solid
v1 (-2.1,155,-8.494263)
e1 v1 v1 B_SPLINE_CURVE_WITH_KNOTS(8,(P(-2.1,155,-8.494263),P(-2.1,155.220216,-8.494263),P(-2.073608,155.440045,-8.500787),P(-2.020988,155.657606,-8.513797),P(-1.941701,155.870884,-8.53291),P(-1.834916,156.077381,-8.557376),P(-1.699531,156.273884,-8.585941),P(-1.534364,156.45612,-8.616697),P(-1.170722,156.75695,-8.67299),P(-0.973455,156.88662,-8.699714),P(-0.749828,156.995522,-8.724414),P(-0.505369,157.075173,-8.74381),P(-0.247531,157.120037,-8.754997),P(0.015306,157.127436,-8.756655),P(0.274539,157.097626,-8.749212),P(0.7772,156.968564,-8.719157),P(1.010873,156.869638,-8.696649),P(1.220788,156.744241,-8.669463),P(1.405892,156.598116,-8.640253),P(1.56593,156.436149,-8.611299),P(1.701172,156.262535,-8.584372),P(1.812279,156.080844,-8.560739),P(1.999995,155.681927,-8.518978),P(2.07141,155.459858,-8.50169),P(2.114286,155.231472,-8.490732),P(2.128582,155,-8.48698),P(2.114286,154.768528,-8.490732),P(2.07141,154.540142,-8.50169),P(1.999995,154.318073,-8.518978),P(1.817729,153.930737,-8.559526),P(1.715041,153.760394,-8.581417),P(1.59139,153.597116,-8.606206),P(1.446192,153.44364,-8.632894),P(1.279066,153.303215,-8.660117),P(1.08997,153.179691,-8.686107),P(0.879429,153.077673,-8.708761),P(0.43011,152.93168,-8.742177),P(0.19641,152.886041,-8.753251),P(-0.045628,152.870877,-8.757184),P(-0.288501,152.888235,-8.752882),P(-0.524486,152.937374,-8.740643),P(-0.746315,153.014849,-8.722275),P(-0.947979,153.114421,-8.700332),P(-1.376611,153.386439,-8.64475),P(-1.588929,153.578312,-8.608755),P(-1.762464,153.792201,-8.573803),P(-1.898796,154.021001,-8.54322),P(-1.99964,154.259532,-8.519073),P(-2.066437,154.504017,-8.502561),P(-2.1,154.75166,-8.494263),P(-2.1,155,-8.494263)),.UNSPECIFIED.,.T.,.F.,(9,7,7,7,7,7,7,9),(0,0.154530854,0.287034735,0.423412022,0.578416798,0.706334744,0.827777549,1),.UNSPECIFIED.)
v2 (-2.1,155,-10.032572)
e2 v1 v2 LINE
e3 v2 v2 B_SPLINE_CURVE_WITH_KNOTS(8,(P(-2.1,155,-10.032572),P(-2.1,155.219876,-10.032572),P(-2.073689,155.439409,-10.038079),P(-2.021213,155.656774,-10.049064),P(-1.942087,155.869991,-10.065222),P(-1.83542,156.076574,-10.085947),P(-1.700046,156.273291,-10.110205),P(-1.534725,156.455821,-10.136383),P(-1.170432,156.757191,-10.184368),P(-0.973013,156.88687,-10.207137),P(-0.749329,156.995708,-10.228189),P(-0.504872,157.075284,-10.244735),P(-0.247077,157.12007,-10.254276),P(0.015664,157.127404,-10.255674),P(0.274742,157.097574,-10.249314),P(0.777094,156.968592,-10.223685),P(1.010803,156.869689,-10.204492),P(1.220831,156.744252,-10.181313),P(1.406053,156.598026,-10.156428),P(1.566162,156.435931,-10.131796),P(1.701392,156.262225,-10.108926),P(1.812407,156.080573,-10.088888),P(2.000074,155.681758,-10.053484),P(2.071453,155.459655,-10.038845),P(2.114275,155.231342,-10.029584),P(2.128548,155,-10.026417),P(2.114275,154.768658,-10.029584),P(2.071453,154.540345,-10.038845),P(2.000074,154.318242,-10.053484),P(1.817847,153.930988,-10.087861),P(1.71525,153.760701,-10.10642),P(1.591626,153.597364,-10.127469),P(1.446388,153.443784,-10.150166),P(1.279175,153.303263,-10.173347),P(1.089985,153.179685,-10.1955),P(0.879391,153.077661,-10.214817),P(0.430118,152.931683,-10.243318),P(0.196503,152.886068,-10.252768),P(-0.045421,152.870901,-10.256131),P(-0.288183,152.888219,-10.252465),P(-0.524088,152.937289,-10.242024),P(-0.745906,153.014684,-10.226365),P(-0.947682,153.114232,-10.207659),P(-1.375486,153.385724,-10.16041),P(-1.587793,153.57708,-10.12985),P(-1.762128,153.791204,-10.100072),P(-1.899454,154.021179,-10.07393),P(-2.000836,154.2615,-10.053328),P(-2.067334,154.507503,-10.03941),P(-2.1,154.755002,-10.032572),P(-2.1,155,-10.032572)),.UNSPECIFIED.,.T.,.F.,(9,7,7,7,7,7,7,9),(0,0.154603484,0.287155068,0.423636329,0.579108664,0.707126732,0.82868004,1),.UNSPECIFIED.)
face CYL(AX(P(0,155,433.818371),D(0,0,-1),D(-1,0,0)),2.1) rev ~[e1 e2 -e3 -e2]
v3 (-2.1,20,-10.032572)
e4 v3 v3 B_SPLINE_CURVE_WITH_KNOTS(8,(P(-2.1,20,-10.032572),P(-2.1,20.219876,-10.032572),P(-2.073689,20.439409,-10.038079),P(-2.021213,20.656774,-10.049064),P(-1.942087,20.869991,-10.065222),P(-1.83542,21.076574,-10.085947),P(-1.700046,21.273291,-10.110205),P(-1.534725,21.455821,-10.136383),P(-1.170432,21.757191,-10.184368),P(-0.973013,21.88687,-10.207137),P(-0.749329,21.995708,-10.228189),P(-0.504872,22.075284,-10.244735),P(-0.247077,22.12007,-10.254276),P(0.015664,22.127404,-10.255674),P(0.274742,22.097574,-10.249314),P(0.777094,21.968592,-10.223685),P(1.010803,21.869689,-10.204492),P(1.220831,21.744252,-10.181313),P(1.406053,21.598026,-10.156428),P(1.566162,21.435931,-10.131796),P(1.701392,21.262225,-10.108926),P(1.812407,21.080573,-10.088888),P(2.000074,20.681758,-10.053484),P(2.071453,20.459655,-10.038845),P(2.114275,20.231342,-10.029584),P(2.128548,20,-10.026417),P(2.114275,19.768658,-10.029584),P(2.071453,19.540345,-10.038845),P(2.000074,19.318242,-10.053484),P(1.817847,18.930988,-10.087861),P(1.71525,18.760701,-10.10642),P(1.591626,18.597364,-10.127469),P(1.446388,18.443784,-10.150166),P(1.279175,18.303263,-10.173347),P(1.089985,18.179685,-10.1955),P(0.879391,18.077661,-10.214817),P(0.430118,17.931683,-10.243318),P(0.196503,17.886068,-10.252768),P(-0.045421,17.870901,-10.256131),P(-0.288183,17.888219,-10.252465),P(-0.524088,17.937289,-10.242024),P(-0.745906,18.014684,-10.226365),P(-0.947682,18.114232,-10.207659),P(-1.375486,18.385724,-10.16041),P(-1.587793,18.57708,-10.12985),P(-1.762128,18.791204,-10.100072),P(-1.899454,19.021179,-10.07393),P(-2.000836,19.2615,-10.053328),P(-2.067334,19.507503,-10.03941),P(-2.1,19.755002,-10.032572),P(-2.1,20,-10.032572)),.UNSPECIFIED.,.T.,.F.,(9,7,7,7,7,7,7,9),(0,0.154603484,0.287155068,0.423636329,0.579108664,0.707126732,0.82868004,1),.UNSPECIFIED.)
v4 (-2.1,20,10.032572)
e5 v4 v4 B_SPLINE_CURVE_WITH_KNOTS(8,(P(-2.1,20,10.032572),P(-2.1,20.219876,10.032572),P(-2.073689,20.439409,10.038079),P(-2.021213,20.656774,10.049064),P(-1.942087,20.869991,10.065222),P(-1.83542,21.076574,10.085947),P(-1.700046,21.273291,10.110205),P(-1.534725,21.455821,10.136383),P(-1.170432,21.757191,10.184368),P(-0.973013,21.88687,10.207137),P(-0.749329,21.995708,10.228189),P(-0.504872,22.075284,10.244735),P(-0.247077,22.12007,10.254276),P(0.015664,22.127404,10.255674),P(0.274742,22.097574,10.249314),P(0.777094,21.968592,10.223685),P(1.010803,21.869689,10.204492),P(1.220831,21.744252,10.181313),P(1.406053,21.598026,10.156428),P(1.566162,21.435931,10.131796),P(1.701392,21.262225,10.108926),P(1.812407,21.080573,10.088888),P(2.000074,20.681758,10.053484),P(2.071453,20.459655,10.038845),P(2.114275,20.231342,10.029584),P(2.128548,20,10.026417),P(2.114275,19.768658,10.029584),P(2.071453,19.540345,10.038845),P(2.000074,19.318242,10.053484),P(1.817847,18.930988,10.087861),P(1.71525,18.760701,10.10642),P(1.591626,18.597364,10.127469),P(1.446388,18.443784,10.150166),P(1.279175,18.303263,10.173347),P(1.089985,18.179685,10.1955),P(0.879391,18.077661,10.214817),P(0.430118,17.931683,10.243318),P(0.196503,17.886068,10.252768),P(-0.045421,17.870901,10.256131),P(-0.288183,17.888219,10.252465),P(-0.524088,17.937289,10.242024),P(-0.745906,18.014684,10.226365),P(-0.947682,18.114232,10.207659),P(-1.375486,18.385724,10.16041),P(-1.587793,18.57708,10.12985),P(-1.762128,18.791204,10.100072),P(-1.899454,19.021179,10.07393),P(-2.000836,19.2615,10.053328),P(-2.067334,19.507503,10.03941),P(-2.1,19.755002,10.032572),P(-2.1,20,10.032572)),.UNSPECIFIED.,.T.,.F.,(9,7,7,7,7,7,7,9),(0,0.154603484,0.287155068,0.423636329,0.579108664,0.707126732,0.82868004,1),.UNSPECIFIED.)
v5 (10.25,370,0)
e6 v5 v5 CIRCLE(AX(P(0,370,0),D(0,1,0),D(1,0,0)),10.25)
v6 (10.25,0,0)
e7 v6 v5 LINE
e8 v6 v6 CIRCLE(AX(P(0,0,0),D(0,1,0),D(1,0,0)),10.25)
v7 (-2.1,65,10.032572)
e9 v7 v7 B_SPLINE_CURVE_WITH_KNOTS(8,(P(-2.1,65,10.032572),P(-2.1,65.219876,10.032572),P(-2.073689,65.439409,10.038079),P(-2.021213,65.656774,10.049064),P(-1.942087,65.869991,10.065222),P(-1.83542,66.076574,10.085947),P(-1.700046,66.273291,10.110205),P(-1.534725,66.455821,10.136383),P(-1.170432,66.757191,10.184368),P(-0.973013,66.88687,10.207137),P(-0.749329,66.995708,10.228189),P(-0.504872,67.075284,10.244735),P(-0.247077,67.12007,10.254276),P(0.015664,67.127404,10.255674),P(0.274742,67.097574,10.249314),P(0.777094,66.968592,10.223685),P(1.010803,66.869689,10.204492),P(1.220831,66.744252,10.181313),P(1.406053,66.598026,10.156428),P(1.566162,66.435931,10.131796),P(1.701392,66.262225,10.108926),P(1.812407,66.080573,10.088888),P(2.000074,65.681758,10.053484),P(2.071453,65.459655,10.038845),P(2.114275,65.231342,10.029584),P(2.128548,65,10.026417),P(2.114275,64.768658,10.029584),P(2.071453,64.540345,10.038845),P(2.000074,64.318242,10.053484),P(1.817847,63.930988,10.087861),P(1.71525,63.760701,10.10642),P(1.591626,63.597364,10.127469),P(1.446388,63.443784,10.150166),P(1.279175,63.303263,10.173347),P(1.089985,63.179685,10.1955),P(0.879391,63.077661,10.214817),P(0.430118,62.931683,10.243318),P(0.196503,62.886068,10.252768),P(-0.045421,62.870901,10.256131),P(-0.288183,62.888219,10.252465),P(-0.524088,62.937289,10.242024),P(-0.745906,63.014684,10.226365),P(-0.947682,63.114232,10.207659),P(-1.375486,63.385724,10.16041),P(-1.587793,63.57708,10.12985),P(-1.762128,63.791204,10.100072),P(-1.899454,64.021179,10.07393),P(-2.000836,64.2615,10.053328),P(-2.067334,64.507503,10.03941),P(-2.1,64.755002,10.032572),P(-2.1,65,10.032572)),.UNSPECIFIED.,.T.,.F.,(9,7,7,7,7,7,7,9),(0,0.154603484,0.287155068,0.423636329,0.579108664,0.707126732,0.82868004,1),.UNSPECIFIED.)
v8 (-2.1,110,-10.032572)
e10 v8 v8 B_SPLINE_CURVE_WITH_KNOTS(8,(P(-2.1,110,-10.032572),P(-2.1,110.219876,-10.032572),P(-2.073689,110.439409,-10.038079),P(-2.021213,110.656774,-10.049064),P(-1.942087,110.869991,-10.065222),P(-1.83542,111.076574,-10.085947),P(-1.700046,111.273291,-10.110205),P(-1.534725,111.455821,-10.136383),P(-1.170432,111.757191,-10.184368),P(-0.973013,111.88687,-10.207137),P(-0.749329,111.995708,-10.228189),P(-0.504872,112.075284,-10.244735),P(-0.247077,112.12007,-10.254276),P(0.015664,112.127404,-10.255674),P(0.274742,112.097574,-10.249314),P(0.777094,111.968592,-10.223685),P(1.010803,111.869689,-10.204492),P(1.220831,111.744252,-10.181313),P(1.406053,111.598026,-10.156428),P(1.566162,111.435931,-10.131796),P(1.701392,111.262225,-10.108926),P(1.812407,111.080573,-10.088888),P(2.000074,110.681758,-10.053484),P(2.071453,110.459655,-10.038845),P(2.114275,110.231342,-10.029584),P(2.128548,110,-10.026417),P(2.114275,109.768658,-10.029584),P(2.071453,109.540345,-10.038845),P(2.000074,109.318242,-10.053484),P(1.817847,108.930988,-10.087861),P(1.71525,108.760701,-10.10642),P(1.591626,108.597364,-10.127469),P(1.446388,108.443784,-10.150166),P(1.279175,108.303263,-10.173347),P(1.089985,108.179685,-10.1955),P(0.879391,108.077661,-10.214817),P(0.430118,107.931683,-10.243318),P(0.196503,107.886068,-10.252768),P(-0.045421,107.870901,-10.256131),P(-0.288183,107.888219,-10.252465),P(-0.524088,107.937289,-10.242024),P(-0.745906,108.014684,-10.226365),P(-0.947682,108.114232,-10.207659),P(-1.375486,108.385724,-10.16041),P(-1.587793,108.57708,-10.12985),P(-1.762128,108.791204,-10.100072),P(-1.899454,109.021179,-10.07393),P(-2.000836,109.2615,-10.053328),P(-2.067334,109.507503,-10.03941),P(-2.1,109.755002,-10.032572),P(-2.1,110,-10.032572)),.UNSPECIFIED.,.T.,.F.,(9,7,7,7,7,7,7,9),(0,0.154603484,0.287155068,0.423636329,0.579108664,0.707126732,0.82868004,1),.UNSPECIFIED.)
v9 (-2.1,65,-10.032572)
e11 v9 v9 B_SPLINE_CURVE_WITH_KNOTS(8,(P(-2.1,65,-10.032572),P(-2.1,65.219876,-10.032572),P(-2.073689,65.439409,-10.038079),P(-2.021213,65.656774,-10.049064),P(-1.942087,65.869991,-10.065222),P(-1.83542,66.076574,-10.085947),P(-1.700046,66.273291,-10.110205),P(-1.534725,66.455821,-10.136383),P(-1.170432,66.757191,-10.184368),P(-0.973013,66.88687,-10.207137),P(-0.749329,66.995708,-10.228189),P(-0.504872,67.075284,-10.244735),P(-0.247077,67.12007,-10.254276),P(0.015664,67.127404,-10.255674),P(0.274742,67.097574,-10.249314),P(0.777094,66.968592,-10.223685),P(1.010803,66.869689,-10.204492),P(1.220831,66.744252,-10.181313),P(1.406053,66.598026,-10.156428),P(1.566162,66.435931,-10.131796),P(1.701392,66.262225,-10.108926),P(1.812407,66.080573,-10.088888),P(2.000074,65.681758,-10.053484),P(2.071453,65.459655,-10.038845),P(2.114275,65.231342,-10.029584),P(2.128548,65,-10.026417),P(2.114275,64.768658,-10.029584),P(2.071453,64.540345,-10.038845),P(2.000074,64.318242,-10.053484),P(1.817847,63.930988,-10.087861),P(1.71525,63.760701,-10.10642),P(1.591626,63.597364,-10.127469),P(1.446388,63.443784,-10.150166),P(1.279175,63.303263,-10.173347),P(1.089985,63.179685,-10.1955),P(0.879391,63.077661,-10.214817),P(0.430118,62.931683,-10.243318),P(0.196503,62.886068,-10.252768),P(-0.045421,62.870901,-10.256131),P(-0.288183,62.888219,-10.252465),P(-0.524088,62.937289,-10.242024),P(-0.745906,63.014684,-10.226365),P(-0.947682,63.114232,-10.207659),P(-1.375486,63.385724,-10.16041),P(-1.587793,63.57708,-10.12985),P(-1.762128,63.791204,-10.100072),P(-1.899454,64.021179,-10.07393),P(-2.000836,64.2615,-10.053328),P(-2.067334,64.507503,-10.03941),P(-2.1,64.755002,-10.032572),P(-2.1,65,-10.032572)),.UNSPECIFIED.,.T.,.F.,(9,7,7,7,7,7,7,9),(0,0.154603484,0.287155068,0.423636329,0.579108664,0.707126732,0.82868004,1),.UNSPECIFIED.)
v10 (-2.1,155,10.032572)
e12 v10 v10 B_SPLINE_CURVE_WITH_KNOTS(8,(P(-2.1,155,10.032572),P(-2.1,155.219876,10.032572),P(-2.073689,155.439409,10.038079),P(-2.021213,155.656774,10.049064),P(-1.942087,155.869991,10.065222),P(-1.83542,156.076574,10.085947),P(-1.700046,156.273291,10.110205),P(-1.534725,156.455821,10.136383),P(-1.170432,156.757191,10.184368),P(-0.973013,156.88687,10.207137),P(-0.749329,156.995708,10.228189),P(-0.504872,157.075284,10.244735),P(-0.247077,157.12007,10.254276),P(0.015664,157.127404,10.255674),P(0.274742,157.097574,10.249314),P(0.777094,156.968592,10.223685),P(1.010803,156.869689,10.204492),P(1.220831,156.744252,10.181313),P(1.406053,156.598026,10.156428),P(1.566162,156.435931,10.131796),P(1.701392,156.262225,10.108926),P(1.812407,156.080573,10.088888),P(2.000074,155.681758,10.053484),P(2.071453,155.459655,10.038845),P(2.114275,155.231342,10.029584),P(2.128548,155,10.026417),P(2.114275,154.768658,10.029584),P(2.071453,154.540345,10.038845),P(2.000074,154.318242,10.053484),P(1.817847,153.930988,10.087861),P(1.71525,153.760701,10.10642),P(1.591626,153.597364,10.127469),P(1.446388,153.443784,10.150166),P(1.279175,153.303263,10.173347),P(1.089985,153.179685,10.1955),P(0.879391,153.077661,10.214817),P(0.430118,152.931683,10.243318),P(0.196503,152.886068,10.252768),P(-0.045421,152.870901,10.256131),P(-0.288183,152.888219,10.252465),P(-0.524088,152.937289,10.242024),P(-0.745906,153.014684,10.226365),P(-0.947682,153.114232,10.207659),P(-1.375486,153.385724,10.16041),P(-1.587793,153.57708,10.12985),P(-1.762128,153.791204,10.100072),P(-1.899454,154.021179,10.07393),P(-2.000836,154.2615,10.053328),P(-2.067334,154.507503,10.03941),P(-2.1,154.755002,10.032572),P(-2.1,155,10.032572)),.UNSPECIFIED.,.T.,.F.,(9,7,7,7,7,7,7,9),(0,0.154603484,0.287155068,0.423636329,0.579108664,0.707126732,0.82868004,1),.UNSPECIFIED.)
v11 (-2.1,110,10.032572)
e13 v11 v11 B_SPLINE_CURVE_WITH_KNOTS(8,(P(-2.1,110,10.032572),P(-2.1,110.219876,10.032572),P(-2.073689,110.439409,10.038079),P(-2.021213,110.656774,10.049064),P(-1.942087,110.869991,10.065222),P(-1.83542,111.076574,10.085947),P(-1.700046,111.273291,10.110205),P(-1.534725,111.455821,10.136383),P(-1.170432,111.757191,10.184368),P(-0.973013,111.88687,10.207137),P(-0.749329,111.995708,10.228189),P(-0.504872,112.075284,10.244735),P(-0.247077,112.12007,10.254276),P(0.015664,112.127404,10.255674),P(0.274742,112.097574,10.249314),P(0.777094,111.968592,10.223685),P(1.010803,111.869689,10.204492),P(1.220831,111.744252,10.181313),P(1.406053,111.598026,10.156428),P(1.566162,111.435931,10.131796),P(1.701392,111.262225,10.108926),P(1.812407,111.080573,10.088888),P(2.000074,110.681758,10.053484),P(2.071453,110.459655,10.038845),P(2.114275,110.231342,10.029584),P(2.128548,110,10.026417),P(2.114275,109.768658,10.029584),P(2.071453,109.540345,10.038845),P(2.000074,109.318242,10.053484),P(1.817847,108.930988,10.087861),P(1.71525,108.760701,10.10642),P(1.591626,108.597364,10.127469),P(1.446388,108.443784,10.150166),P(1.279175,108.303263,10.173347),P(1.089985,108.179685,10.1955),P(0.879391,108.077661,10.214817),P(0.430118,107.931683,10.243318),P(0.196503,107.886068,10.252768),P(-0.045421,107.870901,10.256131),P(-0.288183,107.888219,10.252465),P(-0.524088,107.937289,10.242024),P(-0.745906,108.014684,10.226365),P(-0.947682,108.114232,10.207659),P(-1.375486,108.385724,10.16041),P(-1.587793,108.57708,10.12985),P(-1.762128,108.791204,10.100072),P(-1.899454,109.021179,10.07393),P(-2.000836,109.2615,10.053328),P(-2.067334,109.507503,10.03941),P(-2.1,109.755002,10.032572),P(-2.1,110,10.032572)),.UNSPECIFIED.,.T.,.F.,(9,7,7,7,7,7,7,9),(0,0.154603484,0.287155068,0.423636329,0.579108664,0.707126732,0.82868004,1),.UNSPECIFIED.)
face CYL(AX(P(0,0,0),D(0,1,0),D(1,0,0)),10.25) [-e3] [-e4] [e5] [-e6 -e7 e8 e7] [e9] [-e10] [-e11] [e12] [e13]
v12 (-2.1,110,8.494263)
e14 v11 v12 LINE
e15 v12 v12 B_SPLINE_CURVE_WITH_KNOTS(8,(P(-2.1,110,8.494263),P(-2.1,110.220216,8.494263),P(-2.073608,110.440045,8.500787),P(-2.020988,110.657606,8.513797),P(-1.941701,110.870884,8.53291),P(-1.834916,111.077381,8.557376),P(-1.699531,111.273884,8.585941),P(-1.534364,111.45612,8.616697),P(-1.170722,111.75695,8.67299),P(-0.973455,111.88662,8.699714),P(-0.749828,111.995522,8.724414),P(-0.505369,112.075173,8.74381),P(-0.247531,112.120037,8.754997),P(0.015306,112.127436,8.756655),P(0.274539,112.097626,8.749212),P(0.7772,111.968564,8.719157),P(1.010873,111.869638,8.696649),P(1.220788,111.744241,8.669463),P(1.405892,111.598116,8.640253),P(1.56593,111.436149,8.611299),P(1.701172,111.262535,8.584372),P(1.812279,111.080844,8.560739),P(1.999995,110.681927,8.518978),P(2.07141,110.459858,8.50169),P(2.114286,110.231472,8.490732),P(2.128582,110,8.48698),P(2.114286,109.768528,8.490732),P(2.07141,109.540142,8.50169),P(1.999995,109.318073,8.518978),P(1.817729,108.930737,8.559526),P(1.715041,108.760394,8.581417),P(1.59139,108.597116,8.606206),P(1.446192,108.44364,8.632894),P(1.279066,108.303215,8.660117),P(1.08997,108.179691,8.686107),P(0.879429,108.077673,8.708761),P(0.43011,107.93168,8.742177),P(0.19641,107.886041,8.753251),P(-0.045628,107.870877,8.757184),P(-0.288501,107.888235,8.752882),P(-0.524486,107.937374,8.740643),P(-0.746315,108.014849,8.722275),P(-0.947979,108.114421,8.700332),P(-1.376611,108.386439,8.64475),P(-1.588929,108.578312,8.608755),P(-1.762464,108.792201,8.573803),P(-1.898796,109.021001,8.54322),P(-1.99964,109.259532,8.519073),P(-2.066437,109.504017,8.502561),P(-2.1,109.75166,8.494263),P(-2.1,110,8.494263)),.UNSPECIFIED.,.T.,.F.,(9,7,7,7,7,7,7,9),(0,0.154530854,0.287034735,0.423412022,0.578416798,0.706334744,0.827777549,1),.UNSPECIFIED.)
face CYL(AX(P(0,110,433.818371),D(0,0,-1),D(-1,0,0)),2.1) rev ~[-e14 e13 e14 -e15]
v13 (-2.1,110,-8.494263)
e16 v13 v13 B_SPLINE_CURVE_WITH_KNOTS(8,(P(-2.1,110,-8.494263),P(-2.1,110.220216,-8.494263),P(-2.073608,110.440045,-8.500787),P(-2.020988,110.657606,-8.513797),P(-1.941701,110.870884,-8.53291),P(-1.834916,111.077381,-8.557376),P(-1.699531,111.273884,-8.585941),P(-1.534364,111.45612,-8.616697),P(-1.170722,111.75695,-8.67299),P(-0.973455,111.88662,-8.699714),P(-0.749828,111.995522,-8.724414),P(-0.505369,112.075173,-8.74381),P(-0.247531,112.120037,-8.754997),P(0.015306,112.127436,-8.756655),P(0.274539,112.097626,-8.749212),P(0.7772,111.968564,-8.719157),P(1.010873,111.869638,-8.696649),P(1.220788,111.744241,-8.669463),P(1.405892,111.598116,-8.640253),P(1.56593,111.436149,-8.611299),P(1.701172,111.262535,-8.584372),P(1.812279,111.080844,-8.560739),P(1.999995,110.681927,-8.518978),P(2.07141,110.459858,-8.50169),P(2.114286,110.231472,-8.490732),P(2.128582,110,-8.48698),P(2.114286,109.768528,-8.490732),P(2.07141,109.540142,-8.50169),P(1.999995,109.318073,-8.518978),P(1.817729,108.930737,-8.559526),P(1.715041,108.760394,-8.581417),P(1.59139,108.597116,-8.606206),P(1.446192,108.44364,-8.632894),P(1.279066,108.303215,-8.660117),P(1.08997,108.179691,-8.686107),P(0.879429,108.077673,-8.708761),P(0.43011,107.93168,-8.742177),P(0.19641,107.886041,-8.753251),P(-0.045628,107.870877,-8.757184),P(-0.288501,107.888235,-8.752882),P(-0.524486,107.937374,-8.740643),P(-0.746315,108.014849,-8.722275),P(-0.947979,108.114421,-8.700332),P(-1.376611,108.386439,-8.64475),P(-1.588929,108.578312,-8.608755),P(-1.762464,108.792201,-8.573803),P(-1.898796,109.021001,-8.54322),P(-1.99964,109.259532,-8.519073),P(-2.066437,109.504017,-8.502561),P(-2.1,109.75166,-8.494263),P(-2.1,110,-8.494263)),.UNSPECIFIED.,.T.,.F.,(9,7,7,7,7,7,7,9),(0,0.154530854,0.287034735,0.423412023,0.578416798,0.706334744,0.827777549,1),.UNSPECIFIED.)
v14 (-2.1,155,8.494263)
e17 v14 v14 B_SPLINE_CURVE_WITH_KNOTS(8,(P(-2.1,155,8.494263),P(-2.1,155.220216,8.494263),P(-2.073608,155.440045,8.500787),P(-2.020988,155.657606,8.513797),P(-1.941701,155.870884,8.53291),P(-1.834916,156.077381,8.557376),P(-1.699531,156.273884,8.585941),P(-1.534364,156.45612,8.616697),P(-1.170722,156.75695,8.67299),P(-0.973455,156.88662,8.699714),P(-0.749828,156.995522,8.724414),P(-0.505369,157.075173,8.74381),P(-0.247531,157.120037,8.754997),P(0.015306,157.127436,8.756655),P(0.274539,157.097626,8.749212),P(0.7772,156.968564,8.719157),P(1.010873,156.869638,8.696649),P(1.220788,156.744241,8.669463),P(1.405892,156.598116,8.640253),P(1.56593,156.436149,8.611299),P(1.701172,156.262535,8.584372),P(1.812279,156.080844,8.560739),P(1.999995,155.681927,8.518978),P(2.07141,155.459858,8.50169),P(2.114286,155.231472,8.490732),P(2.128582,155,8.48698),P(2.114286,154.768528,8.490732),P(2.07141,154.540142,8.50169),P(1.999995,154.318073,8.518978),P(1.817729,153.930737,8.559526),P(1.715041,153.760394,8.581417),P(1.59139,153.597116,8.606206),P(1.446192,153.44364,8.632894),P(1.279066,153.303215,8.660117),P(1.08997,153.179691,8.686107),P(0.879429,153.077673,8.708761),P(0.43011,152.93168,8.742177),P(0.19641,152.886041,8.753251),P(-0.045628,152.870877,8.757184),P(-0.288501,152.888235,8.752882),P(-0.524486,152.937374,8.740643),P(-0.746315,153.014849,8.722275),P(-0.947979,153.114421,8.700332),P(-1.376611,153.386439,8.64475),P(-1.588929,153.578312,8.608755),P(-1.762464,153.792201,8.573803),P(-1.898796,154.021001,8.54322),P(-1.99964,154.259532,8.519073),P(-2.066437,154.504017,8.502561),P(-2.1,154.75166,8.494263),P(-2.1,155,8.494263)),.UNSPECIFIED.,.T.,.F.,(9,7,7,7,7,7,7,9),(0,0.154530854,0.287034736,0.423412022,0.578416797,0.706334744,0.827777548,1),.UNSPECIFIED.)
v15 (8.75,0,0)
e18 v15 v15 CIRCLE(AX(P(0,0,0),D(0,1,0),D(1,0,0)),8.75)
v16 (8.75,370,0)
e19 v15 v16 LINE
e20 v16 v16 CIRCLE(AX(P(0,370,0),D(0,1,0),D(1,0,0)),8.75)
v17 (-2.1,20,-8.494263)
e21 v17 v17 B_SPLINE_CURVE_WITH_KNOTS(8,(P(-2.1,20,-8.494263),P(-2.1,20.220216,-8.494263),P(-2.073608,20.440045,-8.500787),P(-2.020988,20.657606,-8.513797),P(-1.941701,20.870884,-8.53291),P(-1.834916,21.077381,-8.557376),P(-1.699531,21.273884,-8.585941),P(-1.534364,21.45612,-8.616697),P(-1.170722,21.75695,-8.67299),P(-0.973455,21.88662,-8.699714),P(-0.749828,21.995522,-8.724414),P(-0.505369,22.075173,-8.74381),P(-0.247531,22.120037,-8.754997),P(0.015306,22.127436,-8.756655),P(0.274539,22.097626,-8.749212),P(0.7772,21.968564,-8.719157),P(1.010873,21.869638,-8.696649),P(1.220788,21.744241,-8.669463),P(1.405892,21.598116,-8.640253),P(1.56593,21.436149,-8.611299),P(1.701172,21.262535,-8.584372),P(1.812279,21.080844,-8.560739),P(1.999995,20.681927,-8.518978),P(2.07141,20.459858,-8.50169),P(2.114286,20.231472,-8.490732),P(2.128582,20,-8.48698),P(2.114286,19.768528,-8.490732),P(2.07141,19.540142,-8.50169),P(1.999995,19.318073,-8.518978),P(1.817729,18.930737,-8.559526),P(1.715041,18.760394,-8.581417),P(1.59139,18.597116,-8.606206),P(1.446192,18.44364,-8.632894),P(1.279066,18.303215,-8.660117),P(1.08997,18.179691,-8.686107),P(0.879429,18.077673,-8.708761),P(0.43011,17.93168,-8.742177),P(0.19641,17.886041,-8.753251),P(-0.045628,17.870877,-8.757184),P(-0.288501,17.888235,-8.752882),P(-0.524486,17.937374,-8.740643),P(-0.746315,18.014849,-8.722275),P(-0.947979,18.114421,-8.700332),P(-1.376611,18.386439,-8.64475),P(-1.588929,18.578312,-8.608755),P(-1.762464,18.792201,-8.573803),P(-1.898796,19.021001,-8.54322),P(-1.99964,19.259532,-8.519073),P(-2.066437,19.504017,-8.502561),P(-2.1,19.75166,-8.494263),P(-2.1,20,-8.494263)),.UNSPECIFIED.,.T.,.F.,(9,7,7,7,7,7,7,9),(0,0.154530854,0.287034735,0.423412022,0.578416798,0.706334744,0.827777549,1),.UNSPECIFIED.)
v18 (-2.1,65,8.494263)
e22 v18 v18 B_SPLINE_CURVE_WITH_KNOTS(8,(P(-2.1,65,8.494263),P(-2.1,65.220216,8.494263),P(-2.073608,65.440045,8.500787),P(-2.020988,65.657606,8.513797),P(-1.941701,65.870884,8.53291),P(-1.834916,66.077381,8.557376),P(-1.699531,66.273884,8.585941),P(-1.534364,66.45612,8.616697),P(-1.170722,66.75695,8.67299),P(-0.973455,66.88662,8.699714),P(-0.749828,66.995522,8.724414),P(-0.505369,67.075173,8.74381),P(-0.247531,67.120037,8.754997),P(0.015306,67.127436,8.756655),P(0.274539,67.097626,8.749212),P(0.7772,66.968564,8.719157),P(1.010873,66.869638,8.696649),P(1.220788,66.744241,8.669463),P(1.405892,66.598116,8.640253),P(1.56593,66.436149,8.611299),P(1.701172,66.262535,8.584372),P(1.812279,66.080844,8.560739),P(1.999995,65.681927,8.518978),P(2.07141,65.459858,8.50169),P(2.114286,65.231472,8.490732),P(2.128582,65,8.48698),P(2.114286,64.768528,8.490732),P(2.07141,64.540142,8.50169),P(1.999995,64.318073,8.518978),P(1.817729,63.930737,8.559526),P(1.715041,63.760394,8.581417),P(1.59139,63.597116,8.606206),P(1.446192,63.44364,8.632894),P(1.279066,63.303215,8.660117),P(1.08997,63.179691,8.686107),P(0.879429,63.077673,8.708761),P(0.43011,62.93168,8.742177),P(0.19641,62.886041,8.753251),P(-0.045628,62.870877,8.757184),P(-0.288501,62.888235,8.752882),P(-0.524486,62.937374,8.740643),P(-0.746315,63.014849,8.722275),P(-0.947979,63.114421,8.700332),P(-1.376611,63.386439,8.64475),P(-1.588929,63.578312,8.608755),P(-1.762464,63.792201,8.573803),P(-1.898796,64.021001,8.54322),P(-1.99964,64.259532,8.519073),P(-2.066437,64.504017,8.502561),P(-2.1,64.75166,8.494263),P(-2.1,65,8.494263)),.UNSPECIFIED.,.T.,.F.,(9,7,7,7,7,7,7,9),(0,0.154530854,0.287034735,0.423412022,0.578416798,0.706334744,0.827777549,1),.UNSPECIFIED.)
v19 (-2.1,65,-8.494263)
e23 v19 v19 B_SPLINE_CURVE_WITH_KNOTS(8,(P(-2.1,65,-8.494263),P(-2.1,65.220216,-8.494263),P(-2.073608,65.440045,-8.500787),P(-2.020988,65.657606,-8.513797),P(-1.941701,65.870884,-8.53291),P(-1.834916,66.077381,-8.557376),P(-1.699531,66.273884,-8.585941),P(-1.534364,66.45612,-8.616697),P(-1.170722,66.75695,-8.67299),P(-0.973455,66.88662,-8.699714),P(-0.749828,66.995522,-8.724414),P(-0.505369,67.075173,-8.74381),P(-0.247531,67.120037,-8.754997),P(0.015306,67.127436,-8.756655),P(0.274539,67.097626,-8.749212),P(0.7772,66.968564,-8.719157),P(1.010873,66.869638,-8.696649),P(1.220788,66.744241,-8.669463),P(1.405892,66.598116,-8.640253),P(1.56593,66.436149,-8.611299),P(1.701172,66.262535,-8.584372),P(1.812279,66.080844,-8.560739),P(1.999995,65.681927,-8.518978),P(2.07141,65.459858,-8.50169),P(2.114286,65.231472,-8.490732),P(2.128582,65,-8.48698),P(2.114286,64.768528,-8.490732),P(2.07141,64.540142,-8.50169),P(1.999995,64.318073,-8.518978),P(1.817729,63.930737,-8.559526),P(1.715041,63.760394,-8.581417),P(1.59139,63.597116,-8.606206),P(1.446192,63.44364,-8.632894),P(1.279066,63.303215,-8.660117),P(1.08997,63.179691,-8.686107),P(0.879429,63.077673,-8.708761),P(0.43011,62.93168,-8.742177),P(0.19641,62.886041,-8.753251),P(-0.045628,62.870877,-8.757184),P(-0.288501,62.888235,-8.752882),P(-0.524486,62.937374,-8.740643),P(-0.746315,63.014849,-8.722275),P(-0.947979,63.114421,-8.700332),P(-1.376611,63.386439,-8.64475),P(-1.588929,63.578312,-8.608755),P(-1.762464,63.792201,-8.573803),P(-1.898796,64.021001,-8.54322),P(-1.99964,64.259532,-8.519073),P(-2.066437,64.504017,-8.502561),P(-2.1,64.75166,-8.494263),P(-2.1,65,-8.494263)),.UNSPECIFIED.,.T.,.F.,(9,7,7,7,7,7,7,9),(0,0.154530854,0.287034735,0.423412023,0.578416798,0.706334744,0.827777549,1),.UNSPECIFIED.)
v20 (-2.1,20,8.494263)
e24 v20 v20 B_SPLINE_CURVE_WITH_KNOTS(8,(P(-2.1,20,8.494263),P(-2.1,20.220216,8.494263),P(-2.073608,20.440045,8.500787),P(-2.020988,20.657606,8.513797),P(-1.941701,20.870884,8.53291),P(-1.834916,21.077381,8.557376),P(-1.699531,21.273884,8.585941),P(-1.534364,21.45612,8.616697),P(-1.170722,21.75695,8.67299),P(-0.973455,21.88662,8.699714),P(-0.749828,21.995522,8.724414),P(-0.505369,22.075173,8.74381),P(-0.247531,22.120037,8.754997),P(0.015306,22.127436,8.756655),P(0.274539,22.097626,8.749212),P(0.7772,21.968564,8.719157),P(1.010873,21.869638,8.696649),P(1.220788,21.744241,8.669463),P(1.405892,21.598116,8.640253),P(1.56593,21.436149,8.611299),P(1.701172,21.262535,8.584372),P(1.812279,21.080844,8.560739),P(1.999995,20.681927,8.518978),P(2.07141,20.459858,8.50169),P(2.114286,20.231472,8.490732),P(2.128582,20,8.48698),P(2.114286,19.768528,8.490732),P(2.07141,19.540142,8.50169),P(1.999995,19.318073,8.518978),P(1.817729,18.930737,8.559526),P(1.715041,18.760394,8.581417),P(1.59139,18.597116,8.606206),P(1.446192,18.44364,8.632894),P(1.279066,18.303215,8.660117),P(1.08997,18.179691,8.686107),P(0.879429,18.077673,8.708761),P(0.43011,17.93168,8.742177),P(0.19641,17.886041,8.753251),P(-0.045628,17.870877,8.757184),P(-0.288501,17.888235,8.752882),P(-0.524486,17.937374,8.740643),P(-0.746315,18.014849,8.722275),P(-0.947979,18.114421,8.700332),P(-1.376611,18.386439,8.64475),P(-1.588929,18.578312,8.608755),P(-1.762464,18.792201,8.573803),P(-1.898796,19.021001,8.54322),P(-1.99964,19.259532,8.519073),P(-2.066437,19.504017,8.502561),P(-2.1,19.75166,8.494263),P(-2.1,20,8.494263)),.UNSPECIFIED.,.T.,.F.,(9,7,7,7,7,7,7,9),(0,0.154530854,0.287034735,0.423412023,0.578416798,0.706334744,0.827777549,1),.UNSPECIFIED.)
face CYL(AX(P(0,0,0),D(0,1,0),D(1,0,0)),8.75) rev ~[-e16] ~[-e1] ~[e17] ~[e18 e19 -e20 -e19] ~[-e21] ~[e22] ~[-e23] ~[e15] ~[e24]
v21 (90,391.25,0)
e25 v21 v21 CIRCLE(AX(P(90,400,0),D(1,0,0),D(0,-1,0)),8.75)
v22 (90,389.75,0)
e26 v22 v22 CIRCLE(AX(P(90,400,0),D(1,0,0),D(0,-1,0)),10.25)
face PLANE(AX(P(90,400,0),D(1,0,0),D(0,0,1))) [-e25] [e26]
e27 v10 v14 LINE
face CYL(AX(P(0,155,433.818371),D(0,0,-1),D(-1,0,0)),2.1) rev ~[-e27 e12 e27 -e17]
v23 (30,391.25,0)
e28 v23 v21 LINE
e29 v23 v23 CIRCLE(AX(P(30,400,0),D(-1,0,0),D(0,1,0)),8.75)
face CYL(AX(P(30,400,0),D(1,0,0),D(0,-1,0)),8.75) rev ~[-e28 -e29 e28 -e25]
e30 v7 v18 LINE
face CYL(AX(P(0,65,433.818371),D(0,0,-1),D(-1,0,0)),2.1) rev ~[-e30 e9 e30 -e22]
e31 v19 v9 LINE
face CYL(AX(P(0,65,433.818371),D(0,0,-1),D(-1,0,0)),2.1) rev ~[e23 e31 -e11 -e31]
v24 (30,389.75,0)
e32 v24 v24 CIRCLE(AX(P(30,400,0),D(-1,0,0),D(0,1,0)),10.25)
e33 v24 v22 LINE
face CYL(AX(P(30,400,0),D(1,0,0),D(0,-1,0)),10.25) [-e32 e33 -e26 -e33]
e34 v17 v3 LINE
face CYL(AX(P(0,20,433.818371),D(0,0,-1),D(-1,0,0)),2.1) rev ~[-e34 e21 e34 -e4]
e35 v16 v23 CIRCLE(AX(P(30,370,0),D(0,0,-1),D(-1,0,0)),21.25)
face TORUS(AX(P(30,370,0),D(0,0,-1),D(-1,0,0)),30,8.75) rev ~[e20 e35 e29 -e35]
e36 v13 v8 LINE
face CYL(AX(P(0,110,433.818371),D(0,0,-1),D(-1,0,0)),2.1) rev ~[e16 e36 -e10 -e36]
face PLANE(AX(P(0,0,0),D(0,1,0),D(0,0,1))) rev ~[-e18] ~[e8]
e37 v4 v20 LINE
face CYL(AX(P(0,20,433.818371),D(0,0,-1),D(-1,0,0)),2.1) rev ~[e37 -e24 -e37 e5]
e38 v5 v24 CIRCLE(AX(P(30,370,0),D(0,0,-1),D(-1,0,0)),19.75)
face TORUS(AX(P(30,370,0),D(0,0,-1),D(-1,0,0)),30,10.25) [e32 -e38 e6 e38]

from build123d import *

# Parameters (mm, degrees)
ESBO_O2_R             = 10.25
ESBO_O2_R_2           = 8.75
FURO_ROSCADO_DE_M51_D = 4.2
PADR_O_LINEAR1_COUNT  = 4
PADR_O_LINEAR1_PITCH  = 45


with BuildPart() as part:
    # Varredura1: sweep along a path in Esboço1
    with BuildLine(Plane.XY) as varredura1_path:
        Line((0, 0), (0, 370))
        ThreePointArc((0, 370), (8.786796564, 391.213203436), (30, 400))
        Line((30, 400), (90, 400))
    # Esboço2 → Varredura1 (sweep)
    with BuildSketch(Plane(origin=(0, 0, 0), x_dir=(1, 0, 0), z_dir=(0, 1, 0))):
        Circle(ESBO_O2_R)
        Circle(ESBO_O2_R_2, mode=Mode.SUBTRACT)
    sweep(path=varredura1_path.line)

    # Furo roscado de M51 (through all)
    with Locations(Plane.XY.offset(11)):
        with Locations((0, 20)):
            furo_roscado_de_m51 = Hole(FURO_ROSCADO_DE_M51_D / 2)

    # Padrão linear1: Furo roscado de M51 ×4
    with Locations(*[(0, i * PADR_O_LINEAR1_PITCH, 0) for i in range(1, PADR_O_LINEAR1_COUNT)]):
        add(furo_roscado_de_m51, mode=Mode.SUBTRACT)


solid = part.part
